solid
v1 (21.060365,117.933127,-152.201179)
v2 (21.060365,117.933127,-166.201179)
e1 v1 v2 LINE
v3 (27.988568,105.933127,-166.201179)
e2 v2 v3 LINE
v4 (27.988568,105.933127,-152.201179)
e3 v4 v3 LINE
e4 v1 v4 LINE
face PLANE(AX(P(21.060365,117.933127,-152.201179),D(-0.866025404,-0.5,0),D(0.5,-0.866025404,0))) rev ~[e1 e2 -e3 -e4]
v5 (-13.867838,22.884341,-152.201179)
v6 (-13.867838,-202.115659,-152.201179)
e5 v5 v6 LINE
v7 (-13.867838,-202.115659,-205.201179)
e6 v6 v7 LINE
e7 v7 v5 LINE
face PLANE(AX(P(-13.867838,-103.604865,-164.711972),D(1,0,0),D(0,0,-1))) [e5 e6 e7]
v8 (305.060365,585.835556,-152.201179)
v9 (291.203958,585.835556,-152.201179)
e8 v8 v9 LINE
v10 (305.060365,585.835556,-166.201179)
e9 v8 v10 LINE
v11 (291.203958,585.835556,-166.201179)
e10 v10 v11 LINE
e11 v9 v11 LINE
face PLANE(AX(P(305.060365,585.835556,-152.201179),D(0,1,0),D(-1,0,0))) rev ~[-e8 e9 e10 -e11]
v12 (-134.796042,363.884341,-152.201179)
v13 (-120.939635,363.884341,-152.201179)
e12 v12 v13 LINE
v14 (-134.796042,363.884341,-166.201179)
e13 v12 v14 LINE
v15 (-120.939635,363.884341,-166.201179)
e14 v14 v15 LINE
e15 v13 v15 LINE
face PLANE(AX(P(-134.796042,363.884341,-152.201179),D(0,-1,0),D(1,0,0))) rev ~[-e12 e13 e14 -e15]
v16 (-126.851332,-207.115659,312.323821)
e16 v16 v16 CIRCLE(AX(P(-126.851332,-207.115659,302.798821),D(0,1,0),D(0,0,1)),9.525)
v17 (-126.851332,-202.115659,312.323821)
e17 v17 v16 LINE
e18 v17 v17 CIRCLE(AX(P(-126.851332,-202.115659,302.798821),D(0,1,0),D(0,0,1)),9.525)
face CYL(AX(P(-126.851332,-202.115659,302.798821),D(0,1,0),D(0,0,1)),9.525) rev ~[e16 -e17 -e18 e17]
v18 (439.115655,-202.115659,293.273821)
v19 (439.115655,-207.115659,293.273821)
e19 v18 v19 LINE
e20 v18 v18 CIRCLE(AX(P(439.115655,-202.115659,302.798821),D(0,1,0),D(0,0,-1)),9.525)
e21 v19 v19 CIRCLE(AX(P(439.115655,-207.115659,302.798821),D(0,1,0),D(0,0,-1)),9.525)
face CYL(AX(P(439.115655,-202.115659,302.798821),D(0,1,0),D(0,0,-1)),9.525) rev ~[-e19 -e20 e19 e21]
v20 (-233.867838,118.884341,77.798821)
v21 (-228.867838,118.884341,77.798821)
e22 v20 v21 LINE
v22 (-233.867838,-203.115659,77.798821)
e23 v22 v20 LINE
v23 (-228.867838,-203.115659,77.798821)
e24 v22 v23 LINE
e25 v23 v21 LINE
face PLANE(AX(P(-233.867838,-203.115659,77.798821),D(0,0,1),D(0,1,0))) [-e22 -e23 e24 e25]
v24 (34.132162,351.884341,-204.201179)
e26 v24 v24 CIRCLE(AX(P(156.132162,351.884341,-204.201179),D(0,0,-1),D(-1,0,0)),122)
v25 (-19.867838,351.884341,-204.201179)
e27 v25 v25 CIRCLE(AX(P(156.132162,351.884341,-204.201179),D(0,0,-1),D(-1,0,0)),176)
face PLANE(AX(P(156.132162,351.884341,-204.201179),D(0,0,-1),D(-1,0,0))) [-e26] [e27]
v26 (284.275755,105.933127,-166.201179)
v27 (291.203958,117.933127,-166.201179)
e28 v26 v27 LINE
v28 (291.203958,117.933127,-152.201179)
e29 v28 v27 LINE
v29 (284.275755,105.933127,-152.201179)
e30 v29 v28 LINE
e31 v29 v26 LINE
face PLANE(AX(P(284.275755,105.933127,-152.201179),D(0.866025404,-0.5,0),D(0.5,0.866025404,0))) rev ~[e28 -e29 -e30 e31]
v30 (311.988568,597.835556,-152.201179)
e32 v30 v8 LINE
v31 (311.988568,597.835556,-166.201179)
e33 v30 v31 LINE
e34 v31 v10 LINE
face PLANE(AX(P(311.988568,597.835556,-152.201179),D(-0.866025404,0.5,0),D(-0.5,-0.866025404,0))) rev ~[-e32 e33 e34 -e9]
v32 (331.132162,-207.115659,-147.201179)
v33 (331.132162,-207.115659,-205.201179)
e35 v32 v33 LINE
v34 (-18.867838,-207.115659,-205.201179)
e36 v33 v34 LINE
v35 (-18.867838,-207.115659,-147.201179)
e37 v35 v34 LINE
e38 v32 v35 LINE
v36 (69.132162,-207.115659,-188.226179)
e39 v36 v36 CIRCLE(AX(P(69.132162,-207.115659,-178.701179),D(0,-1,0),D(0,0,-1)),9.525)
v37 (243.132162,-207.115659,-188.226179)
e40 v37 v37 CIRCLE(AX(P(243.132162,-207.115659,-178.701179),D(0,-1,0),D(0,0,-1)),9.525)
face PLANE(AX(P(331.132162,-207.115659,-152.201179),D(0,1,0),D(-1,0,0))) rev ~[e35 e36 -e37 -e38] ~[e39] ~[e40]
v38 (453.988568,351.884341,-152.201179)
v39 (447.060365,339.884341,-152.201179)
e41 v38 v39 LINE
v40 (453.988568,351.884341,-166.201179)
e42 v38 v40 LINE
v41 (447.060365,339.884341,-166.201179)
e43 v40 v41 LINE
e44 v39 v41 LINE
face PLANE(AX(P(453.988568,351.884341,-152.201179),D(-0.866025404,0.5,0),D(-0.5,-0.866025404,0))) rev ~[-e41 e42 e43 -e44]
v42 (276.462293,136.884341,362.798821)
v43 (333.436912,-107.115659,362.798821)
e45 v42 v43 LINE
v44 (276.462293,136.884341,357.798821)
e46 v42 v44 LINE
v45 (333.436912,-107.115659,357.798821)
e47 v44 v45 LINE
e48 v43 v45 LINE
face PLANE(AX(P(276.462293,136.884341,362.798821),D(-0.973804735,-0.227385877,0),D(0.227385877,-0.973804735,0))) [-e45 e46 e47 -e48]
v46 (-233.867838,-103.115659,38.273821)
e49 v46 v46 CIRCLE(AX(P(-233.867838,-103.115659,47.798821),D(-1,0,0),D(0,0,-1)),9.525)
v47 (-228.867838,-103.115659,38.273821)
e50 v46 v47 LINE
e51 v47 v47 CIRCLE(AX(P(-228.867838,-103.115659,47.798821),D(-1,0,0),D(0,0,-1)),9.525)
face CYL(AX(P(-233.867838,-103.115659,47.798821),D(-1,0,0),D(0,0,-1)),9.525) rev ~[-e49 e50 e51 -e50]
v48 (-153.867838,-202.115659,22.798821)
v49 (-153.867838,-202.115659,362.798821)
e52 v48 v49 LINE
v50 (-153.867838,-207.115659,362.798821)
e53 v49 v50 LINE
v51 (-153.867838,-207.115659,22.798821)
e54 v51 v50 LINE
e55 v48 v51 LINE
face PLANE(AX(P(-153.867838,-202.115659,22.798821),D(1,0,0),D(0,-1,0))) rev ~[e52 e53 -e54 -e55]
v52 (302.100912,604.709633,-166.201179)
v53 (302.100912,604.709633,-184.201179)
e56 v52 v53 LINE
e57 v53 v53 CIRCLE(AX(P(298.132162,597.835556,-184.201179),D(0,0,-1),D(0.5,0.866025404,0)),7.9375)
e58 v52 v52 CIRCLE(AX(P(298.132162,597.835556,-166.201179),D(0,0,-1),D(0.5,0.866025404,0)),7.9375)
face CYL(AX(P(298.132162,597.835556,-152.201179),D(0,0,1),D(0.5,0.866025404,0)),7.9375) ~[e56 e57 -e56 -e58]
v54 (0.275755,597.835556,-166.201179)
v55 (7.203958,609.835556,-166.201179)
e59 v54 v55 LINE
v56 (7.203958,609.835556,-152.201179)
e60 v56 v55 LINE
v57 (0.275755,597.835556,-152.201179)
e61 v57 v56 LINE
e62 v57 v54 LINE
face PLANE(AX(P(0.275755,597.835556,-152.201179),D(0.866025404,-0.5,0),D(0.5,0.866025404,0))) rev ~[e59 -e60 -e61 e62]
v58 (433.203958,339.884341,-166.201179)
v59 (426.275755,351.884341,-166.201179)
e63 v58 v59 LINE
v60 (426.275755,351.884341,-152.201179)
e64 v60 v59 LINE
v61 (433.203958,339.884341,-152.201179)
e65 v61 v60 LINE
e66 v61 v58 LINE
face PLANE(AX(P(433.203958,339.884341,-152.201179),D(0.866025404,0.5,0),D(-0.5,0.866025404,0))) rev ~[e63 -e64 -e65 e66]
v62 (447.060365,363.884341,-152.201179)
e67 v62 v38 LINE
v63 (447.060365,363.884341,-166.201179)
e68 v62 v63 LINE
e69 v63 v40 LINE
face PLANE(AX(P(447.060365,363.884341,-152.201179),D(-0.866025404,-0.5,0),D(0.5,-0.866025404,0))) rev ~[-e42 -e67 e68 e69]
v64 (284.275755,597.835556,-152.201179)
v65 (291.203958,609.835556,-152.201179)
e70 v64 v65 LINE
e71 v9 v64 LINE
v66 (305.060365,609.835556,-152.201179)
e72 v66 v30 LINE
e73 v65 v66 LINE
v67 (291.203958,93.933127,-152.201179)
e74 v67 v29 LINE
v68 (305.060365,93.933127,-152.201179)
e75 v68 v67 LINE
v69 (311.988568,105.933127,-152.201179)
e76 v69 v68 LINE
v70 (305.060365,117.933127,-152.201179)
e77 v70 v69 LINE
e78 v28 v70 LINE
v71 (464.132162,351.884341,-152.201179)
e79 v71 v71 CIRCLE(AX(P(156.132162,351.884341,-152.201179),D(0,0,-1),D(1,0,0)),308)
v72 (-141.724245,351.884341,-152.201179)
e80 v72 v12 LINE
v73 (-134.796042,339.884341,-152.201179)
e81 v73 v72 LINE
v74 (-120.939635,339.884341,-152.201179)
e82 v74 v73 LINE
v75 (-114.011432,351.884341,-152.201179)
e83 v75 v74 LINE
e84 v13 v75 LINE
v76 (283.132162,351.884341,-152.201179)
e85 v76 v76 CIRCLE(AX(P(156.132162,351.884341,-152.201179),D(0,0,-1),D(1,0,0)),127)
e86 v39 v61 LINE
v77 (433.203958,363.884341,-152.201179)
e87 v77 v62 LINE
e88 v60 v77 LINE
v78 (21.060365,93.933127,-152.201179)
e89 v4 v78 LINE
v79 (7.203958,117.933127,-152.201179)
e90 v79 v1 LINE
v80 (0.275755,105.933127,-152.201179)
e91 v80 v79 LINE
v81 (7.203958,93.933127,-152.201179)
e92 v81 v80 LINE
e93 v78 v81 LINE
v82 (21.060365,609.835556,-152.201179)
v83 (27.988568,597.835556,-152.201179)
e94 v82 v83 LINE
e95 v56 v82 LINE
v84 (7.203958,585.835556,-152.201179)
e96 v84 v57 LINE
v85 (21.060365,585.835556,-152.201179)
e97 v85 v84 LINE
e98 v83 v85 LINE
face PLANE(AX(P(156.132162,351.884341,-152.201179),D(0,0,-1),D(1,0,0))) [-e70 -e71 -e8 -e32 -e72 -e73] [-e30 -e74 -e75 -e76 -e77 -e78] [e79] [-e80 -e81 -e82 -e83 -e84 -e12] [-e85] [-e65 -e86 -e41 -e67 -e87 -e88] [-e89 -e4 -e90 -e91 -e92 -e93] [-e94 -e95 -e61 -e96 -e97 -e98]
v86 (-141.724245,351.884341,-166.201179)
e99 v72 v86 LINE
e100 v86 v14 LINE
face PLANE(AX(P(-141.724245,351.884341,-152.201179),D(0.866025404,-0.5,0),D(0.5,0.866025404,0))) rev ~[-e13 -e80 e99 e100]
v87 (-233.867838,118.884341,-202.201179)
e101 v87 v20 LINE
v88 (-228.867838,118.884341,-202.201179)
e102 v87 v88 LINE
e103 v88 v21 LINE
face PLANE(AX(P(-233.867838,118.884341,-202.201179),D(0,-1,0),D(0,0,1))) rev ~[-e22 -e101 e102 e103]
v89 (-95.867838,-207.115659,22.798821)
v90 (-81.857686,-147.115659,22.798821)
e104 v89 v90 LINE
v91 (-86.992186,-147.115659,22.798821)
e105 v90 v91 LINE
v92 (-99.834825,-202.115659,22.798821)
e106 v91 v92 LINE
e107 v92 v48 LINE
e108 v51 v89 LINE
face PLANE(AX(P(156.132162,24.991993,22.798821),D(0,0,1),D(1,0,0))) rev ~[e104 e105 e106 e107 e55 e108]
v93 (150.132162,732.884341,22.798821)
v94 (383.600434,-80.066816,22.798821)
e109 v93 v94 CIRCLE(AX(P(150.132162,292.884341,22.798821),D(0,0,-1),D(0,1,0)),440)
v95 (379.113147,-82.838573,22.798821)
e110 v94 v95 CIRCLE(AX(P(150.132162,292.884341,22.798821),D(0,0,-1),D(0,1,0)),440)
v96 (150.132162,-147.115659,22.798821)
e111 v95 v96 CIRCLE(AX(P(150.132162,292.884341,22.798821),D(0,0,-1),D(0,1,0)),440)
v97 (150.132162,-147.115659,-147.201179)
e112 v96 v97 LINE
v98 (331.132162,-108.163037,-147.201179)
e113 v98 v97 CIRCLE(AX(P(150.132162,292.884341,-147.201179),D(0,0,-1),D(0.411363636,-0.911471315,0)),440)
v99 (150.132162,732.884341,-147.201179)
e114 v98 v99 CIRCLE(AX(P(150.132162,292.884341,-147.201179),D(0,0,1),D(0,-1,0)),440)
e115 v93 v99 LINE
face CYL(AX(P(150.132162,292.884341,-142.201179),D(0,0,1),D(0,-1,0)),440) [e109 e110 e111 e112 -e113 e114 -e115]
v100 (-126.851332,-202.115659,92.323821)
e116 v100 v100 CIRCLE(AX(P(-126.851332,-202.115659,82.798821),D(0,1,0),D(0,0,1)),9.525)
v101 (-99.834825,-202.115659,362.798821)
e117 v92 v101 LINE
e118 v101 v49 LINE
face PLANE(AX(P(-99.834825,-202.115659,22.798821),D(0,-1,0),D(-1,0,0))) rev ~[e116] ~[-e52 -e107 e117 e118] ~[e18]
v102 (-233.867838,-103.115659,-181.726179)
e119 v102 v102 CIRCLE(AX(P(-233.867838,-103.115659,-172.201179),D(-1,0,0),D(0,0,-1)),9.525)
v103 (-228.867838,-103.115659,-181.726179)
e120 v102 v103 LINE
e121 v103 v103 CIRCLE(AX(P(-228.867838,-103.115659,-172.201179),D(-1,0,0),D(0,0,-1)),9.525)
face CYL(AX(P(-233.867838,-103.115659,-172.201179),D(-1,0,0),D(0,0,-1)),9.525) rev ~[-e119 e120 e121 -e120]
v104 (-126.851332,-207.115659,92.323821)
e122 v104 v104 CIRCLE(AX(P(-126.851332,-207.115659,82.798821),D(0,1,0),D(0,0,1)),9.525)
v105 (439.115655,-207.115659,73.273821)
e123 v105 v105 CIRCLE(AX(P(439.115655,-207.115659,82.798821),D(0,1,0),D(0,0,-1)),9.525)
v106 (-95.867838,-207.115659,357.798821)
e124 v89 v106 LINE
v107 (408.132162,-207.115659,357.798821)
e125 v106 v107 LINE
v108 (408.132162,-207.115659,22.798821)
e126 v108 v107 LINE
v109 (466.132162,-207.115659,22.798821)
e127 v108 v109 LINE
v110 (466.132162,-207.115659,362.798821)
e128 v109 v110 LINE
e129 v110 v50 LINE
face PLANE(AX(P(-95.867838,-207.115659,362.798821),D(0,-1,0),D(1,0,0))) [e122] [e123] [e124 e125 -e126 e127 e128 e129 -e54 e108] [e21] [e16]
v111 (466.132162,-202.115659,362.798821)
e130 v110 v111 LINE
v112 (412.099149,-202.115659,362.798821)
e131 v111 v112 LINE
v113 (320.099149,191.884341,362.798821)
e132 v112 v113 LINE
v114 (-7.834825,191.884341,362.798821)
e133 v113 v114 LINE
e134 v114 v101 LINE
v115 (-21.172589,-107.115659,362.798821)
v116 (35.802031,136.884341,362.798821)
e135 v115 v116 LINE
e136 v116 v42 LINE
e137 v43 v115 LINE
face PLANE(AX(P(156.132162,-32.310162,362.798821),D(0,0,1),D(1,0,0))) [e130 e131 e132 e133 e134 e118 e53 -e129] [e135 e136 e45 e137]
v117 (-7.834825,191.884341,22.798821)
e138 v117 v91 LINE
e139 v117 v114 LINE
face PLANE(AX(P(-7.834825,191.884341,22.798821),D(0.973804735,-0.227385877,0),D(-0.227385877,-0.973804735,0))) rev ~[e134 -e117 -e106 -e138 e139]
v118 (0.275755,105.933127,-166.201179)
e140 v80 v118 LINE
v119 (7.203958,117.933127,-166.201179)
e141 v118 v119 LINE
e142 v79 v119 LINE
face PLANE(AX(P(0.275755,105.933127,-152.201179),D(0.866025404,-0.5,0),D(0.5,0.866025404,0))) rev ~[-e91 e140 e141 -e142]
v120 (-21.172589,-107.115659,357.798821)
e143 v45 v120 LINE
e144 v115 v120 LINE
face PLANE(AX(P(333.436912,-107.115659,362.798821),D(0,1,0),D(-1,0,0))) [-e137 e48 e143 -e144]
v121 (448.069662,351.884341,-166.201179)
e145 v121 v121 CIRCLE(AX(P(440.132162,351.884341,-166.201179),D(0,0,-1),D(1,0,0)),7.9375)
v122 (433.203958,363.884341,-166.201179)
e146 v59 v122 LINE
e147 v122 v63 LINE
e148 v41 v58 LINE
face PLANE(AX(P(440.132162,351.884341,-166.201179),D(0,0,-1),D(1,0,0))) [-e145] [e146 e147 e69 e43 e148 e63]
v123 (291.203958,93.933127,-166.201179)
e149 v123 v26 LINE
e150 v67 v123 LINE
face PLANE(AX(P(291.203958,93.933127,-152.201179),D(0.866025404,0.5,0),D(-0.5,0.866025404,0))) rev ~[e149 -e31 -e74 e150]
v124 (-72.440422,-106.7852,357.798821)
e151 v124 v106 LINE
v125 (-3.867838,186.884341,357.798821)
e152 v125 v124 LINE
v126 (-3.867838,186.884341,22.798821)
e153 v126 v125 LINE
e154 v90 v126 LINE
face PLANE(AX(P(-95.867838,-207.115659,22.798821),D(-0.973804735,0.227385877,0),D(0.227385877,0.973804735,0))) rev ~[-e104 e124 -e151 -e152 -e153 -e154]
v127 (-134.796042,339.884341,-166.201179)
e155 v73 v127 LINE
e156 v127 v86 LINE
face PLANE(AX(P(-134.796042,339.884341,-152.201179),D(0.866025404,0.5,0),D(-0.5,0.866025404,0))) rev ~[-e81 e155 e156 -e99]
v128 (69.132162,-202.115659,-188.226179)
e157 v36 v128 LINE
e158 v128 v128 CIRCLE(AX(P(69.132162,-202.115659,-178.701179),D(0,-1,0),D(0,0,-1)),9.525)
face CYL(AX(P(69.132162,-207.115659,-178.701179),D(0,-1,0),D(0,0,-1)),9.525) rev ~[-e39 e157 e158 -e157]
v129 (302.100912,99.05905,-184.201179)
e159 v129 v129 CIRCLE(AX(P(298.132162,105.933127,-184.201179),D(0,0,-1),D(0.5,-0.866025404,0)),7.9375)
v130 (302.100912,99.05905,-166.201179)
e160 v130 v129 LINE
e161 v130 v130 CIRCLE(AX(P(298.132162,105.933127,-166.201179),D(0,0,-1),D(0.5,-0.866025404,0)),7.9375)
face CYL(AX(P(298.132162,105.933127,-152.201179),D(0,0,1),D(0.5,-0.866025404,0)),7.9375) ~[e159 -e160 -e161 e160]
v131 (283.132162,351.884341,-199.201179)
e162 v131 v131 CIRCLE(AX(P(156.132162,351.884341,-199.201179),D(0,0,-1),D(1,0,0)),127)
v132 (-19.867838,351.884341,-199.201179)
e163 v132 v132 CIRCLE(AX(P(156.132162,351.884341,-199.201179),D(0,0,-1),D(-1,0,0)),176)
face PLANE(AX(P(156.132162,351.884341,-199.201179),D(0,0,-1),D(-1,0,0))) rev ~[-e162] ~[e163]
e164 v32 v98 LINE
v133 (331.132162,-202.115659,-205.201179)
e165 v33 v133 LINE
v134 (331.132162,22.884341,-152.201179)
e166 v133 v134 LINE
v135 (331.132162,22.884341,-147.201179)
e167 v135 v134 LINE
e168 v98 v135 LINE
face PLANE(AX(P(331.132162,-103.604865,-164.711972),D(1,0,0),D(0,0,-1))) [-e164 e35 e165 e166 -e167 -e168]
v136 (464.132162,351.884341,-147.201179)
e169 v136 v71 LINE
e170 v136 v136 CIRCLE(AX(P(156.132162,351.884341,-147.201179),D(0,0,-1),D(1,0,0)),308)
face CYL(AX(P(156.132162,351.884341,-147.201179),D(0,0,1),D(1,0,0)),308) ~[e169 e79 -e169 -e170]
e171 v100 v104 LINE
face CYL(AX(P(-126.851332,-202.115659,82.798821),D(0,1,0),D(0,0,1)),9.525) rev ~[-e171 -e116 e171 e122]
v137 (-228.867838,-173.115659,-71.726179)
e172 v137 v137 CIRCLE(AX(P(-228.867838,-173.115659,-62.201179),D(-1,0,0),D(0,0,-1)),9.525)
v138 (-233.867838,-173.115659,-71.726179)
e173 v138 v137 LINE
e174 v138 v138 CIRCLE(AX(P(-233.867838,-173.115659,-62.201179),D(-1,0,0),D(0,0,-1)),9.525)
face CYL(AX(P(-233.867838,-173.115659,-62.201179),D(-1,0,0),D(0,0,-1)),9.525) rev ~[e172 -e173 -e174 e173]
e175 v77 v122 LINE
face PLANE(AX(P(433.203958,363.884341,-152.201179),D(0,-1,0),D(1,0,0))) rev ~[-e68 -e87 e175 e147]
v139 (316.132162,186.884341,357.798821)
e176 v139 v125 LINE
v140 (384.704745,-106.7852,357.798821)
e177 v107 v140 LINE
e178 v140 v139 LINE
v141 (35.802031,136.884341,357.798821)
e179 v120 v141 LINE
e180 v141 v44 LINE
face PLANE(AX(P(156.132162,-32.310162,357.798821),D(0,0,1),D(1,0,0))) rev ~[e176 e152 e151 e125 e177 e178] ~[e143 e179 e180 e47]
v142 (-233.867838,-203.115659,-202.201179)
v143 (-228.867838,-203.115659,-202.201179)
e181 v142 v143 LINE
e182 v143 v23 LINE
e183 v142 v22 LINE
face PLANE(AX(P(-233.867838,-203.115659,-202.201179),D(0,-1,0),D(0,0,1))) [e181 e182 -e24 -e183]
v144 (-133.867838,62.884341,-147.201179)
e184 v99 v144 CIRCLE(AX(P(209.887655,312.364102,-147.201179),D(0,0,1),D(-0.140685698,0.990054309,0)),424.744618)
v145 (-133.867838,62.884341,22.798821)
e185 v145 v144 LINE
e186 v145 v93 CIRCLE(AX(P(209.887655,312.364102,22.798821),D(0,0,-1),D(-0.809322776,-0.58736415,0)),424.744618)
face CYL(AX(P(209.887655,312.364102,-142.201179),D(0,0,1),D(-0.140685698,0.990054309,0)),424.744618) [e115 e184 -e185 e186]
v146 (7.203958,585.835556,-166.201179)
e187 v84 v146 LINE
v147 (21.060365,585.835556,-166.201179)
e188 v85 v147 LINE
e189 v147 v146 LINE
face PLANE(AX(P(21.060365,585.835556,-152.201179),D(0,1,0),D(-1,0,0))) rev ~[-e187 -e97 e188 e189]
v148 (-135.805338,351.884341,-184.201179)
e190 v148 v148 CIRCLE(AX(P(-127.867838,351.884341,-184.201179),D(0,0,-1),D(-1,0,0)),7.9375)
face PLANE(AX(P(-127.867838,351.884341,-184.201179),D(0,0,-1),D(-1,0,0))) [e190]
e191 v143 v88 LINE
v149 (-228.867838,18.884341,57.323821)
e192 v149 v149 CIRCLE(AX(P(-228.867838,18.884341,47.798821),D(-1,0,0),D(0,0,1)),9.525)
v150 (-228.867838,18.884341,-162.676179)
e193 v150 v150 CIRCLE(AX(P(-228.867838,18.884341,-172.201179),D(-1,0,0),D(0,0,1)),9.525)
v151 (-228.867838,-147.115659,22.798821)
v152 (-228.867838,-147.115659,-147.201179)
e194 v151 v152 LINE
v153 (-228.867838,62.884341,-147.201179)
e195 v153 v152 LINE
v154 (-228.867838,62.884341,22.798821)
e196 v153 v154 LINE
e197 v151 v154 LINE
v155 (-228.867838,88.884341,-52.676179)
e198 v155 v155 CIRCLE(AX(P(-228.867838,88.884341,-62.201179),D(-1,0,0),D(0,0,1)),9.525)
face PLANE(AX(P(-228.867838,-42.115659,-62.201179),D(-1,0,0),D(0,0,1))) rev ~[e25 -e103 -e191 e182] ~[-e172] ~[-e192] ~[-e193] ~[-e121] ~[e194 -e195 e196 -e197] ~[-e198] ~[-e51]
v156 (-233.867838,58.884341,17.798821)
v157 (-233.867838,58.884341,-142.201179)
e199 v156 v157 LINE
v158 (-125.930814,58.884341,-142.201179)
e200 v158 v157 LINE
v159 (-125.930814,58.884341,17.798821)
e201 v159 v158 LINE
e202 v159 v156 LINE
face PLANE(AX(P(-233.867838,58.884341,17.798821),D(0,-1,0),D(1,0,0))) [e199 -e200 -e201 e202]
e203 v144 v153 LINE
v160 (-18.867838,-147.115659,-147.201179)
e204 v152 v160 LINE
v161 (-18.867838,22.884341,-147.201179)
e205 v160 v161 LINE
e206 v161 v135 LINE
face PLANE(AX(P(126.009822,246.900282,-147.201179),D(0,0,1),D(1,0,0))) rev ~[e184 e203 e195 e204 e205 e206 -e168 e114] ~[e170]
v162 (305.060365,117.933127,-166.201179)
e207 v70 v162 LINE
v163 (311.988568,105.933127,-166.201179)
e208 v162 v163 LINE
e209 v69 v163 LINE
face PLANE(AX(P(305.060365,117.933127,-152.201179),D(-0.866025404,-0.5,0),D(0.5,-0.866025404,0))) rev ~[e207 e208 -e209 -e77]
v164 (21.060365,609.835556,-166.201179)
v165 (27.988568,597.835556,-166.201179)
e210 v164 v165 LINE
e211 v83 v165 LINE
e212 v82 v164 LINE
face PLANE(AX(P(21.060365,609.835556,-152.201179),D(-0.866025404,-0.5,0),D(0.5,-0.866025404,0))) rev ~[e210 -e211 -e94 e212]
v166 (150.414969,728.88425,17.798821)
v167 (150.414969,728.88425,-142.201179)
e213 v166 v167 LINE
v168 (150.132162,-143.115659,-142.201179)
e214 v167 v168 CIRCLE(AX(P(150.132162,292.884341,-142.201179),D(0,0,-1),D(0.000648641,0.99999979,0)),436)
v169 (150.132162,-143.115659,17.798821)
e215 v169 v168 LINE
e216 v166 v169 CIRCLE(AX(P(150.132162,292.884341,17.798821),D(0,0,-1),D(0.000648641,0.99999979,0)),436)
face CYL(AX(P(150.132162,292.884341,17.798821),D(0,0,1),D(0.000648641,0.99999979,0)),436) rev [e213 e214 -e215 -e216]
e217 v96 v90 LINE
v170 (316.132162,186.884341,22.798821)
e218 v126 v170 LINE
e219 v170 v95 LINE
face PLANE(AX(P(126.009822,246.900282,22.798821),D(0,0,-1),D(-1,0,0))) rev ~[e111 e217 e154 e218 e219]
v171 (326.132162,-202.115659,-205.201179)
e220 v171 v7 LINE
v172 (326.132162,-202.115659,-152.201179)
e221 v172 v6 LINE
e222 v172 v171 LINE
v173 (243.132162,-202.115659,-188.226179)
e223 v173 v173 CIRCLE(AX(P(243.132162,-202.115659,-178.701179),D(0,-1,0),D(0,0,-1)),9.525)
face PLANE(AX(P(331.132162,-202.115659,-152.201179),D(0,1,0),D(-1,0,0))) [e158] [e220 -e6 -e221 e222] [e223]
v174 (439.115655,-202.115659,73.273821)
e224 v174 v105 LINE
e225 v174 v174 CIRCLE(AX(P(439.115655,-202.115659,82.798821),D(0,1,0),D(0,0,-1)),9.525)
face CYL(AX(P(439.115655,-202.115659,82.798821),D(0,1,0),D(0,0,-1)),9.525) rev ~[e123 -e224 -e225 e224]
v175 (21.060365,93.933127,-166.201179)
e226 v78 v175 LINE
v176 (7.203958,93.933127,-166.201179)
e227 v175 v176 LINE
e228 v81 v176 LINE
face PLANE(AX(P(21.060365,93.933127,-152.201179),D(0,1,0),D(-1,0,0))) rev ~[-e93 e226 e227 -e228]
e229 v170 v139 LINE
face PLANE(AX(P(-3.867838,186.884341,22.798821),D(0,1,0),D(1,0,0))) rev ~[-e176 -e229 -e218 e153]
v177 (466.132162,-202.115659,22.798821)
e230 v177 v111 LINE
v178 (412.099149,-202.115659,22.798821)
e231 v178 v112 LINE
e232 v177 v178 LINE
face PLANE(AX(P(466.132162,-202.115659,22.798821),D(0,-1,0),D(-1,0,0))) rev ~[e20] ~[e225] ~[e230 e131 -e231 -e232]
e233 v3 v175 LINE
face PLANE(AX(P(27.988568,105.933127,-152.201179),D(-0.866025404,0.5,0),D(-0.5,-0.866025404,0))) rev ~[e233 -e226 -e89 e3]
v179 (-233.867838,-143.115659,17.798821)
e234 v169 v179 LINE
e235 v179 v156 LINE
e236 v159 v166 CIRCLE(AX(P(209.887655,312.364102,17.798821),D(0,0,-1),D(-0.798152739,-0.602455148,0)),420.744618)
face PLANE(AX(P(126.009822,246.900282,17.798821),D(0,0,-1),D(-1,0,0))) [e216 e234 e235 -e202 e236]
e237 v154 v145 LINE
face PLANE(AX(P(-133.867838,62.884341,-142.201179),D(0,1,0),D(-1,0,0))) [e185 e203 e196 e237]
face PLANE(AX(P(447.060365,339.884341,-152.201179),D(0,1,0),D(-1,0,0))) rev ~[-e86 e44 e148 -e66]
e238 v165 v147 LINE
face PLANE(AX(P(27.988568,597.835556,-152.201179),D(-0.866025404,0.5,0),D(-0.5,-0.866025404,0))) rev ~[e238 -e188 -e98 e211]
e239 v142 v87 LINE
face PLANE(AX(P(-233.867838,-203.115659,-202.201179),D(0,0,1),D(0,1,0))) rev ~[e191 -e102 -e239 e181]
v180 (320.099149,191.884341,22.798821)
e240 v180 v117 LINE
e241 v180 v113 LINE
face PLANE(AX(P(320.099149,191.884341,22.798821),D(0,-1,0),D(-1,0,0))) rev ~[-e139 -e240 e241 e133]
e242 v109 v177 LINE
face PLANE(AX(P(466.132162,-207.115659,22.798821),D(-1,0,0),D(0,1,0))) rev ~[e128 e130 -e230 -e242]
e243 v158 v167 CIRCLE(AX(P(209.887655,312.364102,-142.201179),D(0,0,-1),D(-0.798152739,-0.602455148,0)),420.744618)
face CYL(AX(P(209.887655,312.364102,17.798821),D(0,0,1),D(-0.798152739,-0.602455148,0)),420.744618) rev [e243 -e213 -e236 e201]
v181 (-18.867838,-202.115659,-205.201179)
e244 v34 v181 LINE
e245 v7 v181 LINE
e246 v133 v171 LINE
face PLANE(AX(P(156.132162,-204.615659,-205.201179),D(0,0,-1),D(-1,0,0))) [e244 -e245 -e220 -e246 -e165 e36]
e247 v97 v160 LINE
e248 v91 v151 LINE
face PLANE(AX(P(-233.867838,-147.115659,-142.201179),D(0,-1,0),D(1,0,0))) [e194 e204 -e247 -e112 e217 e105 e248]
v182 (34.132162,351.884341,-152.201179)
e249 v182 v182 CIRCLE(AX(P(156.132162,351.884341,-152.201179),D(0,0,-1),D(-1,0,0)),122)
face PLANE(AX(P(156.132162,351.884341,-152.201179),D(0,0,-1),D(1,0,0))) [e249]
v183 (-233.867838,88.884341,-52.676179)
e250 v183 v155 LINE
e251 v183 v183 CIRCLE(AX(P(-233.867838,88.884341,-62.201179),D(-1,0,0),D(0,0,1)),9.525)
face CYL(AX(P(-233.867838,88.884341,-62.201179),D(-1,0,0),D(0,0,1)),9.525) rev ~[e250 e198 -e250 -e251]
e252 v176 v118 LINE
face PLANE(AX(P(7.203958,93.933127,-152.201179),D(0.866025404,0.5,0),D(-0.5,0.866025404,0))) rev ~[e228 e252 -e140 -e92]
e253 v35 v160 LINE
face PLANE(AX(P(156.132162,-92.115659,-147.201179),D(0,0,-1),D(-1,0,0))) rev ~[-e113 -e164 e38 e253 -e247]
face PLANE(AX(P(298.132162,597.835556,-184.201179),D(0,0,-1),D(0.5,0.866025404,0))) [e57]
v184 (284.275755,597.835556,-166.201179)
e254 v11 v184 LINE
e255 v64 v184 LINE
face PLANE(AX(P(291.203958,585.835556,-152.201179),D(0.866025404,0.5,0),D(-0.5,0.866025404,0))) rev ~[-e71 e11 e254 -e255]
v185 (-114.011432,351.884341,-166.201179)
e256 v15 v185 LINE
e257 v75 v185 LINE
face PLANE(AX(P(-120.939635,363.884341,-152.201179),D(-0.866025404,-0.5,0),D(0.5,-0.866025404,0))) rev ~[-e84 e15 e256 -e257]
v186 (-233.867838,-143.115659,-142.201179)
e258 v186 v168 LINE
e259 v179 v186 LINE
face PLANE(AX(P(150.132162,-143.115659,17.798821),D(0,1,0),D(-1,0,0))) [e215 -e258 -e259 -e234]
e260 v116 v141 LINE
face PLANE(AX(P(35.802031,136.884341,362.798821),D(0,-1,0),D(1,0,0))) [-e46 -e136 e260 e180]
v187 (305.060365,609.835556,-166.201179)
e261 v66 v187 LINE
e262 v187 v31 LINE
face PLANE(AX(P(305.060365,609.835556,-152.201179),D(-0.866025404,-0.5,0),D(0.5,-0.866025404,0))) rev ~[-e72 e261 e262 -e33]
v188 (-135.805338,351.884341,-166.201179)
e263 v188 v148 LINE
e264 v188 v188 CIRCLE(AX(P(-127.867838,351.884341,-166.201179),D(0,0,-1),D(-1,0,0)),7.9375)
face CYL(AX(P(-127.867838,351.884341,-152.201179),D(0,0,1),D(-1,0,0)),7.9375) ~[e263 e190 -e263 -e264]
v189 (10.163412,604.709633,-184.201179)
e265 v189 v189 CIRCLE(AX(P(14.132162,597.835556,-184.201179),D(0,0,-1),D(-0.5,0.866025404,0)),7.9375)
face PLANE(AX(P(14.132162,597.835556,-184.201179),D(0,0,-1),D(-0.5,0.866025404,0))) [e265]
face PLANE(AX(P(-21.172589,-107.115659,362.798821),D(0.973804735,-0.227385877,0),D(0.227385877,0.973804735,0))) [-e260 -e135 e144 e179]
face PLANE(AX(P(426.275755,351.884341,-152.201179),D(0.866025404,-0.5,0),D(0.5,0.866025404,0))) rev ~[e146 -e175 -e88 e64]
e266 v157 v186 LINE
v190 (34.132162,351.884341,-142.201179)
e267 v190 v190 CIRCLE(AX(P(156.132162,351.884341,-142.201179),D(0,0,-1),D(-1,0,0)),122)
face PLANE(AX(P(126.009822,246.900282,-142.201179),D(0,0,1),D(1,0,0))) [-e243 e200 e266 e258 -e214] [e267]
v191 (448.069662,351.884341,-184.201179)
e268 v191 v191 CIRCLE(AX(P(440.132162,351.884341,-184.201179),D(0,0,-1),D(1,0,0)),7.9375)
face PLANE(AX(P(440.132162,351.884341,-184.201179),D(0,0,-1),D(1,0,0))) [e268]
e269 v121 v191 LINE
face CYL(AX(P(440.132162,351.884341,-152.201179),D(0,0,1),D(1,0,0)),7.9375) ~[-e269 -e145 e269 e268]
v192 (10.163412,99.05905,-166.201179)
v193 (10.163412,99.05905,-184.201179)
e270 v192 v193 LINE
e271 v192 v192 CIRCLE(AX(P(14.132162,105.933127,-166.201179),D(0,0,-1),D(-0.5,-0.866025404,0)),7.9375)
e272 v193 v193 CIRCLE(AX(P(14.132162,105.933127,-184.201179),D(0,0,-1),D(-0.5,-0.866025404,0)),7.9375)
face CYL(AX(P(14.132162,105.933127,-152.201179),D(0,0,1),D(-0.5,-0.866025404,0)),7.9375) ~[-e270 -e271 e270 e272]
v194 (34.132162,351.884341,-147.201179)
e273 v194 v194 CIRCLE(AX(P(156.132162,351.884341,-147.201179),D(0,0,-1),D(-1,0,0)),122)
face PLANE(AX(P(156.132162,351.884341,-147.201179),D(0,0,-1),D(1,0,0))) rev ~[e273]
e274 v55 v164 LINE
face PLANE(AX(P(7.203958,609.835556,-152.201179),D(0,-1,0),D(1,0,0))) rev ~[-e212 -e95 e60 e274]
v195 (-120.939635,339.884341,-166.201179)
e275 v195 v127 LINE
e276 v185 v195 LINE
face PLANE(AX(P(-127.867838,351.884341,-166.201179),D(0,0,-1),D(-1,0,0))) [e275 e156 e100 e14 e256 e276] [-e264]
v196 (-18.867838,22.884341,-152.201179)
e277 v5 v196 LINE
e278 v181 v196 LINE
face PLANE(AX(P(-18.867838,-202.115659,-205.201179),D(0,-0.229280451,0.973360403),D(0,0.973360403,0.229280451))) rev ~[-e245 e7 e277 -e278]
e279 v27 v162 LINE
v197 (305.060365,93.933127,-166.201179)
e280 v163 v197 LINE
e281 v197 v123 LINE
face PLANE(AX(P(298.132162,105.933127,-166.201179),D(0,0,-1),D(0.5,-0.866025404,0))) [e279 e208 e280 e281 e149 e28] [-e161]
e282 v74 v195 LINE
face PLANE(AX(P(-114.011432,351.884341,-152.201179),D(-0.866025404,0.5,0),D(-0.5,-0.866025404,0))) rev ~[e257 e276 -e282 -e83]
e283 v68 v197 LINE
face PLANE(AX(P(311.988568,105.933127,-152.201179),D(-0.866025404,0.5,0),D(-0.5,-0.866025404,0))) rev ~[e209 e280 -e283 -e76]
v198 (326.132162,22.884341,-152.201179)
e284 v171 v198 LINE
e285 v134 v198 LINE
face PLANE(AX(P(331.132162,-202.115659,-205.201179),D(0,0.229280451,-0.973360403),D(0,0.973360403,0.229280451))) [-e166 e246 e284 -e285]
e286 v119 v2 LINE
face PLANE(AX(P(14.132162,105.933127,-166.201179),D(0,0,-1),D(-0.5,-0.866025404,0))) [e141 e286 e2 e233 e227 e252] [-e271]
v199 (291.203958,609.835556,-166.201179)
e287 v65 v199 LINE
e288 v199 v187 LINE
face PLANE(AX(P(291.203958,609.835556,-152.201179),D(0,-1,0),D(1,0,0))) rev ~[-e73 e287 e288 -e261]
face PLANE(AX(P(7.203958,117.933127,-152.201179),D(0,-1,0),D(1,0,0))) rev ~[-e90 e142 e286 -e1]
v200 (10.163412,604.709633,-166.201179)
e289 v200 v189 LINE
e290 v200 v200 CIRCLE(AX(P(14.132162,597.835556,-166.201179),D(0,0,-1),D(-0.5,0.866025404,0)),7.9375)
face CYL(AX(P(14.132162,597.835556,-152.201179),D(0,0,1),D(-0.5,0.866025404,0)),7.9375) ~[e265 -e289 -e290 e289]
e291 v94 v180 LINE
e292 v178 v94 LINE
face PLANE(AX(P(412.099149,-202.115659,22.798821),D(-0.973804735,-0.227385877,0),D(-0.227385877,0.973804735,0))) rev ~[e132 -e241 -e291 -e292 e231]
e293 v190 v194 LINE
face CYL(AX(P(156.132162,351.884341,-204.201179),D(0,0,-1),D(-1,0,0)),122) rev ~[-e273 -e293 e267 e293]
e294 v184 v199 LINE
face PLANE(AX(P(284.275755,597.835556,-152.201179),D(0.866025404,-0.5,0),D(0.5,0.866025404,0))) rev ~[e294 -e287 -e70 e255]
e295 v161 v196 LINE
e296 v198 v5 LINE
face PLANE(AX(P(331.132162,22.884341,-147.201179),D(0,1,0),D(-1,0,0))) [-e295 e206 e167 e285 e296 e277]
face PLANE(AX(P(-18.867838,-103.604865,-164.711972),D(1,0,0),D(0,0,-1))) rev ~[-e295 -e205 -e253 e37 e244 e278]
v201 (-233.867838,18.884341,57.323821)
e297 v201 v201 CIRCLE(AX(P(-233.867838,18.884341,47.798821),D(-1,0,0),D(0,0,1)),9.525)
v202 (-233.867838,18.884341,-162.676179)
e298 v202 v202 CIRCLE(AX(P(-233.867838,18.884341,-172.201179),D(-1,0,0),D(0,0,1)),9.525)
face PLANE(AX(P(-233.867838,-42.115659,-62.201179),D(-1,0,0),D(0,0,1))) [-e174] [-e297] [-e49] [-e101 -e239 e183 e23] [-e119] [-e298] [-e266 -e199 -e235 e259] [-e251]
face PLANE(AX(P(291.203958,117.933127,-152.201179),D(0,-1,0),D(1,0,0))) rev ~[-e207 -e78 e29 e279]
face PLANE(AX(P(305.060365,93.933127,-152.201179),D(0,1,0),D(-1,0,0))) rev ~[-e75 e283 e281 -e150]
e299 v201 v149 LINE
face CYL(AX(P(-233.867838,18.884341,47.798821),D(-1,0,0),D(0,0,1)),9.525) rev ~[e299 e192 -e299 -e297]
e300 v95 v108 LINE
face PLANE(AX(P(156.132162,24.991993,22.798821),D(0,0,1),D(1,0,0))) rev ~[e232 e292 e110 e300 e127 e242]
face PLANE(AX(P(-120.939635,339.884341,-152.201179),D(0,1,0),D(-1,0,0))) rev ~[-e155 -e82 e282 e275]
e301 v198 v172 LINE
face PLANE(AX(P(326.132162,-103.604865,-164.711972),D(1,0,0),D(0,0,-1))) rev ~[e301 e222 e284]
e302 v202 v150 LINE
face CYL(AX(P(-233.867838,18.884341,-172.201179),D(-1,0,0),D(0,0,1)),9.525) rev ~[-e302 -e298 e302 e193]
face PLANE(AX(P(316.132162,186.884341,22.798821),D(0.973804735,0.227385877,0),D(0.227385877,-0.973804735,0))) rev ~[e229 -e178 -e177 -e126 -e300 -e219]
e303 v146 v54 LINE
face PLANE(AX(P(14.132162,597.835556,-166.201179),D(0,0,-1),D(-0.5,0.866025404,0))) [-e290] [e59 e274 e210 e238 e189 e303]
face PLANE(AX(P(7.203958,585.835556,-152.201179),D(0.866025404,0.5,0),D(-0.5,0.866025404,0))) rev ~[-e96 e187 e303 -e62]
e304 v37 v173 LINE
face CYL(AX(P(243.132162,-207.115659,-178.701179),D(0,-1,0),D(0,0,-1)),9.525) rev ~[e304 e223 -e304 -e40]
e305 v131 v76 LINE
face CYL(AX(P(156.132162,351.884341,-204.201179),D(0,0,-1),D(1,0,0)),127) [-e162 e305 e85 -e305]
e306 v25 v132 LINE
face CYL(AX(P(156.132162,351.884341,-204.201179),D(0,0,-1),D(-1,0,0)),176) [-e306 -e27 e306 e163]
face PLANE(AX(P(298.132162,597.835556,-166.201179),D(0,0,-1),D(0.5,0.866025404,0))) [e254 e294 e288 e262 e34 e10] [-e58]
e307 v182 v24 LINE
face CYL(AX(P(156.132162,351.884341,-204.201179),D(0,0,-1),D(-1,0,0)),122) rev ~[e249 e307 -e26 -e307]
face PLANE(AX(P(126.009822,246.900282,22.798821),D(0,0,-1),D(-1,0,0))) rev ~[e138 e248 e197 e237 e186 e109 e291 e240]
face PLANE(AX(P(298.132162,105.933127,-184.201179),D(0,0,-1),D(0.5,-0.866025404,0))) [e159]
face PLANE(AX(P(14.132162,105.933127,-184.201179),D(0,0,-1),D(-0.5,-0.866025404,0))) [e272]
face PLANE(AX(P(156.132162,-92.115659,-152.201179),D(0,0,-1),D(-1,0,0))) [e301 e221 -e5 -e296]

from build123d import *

# Parameters (mm, degrees)
SALIENTE_EXTRUIR1_DEPTH  = 170
SALIENTE_EXTRUIR2_DEPTH  = 2.5
CROQUIS4_R               = 4.7625
CORTAR_EXTRUIR1_DEPTH    = 2.5
SALIENTE_EXTRUIR3_DEPTH  = 2.5
SALIENTE_EXTRUIR4_DEPTH  = 80
SALIENTE_EXTRUIR5_DEPTH  = 2.5
CROQUIS8_W               = 140
CROQUIS8_H               = 161
CROQUIS8_W_2             = 80
CROQUIS8_H_2             = 101
SALIENTE_EXTRUIR6_DEPTH  = 2.5
CROQUIS9_R               = 4.7625
CORTAR_EXTRUIR2_DEPTH    = 2.5
CROQUIS10_R              = 61
CORTAR_EXTRUIR3_DEPTH    = 2.5
SALIENTE_EXTRUIR7_START  = 28.5
CROQUIS11_R              = 63.5
CROQUIS11_R_2            = 61
SALIENTE_EXTRUIR7_DEPTH  = 28.5
CROQUIS12_R              = 88
CROQUIS12_R_2            = 61
SALIENTE_EXTRUIR8_DEPTH  = 2.5
CROQUIS13_W              = 175
CROQUIS13_H              = 115
SALIENTE_EXTRUIR9_DEPTH  = 2.5
CROQUIS14_W              = 175
CROQUIS14_H              = 2.5
SALIENTE_EXTRUIR10_DEPTH = 26.5
SALIENTE_EXTRUIR11_DEPTH = 2.5
SALIENTE_EXTRUIR12_DEPTH = 2.5
CROQUIS17_R              = 4.7625
CORTAR_EXTRUIR4_DEPTH    = 2.5
CROQUIS18_R              = 154
SALIENTE_EXTRUIR13_DEPTH = 2.5
CROQUIS19_R              = 3.96875
SALIENTE_EXTRUIR14_DEPTH = 16
MATRIZC1_COUNT           = 6
CROQUIS20_R              = 3.96875
SALIENTE_EXTRUIR15_DEPTH = 7
MATRIZC3_COUNT           = 6
ESCALA1_SCALE            = 2


with BuildPart() as part:
    # Croquis1 → Saliente-Extruir1 (new body)
    with BuildSketch(Plane.XY):
        Polygon((0, 0), (29, 0), (75, 197), (235, 197), (281, 0), (310, 0), (310, 2.5), (282.983493442, 2.5), (236.983493442, 199.5), (73.016506558, 199.5), (27.016506558, 2.5), (0, 2.5), align=None)
    extrude(amount=SALIENTE_EXTRUIR1_DEPTH)

    # Croquis2 → Saliente-Extruir2 (add)
    with BuildSketch(Plane.XY.offset(170)):
        Polygon((29, 0), (281, 0), (269.286291687, 50.165229078), (235, 197), (75, 197), (40.713708313, 50.165229078), align=None)
        Polygon((243.652375223, 50), (66.347624777, 50), (94.834934422, 172), (215.165065578, 172), align=None, mode=Mode.SUBTRACT)
    extrude(amount=-SALIENTE_EXTRUIR2_DEPTH)

    # Croquis4 → Cortar-Extruir1 (cut)
    with BuildSketch(Plane(origin=(0, 2.5, 0), x_dir=(1, 0, 0), z_dir=(0, 1, 0))):
        with Locations(Location((13.508253279, -30, 0), (0, 0, 270))):
            Circle(CROQUIS4_R)
        with Locations(Location((13.508253279, -140, 0), (0, 0, 270))):
            Circle(CROQUIS4_R)
        with Locations(Location((296.491746721, -140, 0), (0, 0, 90))):
            Circle(CROQUIS4_R)
        with Locations(Location((296.491746721, -30, 0), (0, 0, 90))):
            Circle(CROQUIS4_R)
    extrude(amount=-CORTAR_EXTRUIR1_DEPTH, mode=Mode.SUBTRACT)

    # Croquis5 → Saliente-Extruir3 (add)
    with BuildSketch(Plane(origin=(0, 0, 0), x_dir=(-1, 0, 0), z_dir=(0, 0, -1))):
        with BuildLine():
            Line((0, 30), (40, 30))
            Line((40, 30), (40, 135))
            Line((40, 135), (-10, 135))
            ThreePointArc((-10, 135), (13.653759217, 342.621891967), (-152, 470))
            ThreePointArc((-152, 470), (-372, 250), (-152, 30))
            Line((-152, 30), (0, 30))
        make_face()
    extrude(amount=SALIENTE_EXTRUIR3_DEPTH)

    # Croquis6 → Saliente-Extruir4 (add)
    with BuildSketch(Plane(origin=(0, 0, -2.5), x_dir=(-1, 0, 0), z_dir=(0, 0, -1))):
        with BuildLine():
            Line((-10, 135), (40, 135))
            Line((40, 135), (40, 133))
            Line((40, 133), (38, 133))
            Line((38, 133), (-13.968512136, 133))
            ThreePointArc((-13.968512136, 133), (12.60152192, 339.954109112), (-152.141403753, 467.99995414))
            ThreePointArc((-152.141403753, 467.99995414), (-369.999988535, 249.92929812), (-152, 32))
            Line((-152, 32), (38, 32))
            Line((38, 32), (40, 32))
            Line((40, 32), (40, 30))
            Line((40, 30), (-152, 30))
            ThreePointArc((-152, 30), (-372, 250), (-152, 470))
            ThreePointArc((-152, 470), (13.653759217, 342.621891967), (-10, 135))
        make_face()
    extrude(amount=SALIENTE_EXTRUIR4_DEPTH)

    # Croquis7 → Saliente-Extruir5 (add)
    with BuildSketch(Plane(origin=(0, 0, -82.5), x_dir=(-1, 0, 0), z_dir=(0, 0, -1))):
        with BuildLine():
            Line((-10, 135), (40, 135))
            Line((40, 135), (40, 30))
            Line((40, 30), (-152, 30))
            ThreePointArc((-152, 30), (-372, 250), (-152, 470))
            ThreePointArc((-152, 470), (13.653759217, 342.621891967), (-10, 135))
        make_face()
    extrude(amount=SALIENTE_EXTRUIR5_DEPTH)

    # Croquis8 → Saliente-Extruir6 (add)
    with BuildSketch(Plane.ZY.offset(40)):
        with Locations((-42.5, 82.5)):
            Rectangle(CROQUIS8_W, CROQUIS8_H)
        with Locations((-42.5, 82.5)):
            Rectangle(CROQUIS8_W_2, CROQUIS8_H_2, mode=Mode.SUBTRACT)
    extrude(amount=-SALIENTE_EXTRUIR6_DEPTH)

    # Croquis9 → Cortar-Extruir2 (cut)
    with BuildSketch(Plane.ZY.offset(40)):
        with Locations((-42.5, 148)):
            Circle(CROQUIS9_R)
        with Locations((-97.5, 113)):
            Circle(CROQUIS9_R)
        with Locations((12.5, 113)):
            Circle(CROQUIS9_R)
        with Locations(Location((12.5, 52, 0), (0, 0, 180))):
            Circle(CROQUIS9_R)
        with Locations(Location((-97.5, 52, 0), (0, 0, 180))):
            Circle(CROQUIS9_R)
        with Locations(Location((-42.5, 17, 0), (0, 0, 180))):
            Circle(CROQUIS9_R)
    extrude(amount=-CORTAR_EXTRUIR2_DEPTH, mode=Mode.SUBTRACT)

    # Croquis10 → Cortar-Extruir3 (cut)
    with BuildSketch(Plane(origin=(0, 0, -85), x_dir=(-1, 0, 0), z_dir=(0, 0, -1))):
        with Locations((-155, 279.5)):
            Circle(CROQUIS10_R)
    extrude(amount=-CORTAR_EXTRUIR3_DEPTH, mode=Mode.SUBTRACT)

    # Croquis11 → Saliente-Extruir7 (add)
    with BuildSketch(Plane(origin=(0, 0, -85), x_dir=(-1, 0, 0), z_dir=(0, 0, -1)).offset(SALIENTE_EXTRUIR7_START)):
        with Locations(Location((-155, 279.5, 0), (0, 0, 180))):
            Circle(CROQUIS11_R)
        with Locations((-155, 279.5)):
            Circle(CROQUIS11_R_2, mode=Mode.SUBTRACT)
    extrude(amount=-SALIENTE_EXTRUIR7_DEPTH)

    # Croquis12 → Saliente-Extruir8 (add)
    with BuildSketch(Plane(origin=(0, 0, -113.5), x_dir=(-1, 0, 0), z_dir=(0, 0, -1))):
        with Locations((-155, 279.5)):
            Circle(CROQUIS12_R)
        with Locations((-155, 279.5)):
            Circle(CROQUIS12_R_2, mode=Mode.SUBTRACT)
    extrude(amount=-SALIENTE_EXTRUIR8_DEPTH)

    # Croquis13 → Saliente-Extruir9 (add)
    with BuildSketch(Plane(origin=(0, 0, -85), x_dir=(-1, 0, 0), z_dir=(0, 0, -1))):
        with Locations((-155, 57.5)):
            Rectangle(CROQUIS13_W, CROQUIS13_H)
    extrude(amount=SALIENTE_EXTRUIR9_DEPTH)

    # Croquis14 → Saliente-Extruir10 (add)
    with BuildSketch(Plane(origin=(0, 0, -87.5), x_dir=(-1, 0, 0), z_dir=(0, 0, -1))):
        with Locations((-155, 1.25)):
            Rectangle(CROQUIS14_W, CROQUIS14_H)
    extrude(amount=SALIENTE_EXTRUIR10_DEPTH)

    # Croquis15 → Saliente-Extruir11 (add)
    with BuildSketch(Plane.ZY.offset(-67.5)):
        Polygon((-114, 2.5), (-87.5, 115), (-85, 115), (-85, 0), (-114, 0), align=None)
    extrude(amount=-SALIENTE_EXTRUIR11_DEPTH)

    # Croquis16 → Saliente-Extruir12 (add)
    with BuildSketch(Plane(origin=(242.5, 0, 0), x_dir=(0, 0, -1), z_dir=(1, 0, 0))):
        Polygon((114, 2.5), (87.5, 115), (85, 115), (85, 0), (114, 0), align=None)
    extrude(amount=-SALIENTE_EXTRUIR12_DEPTH)

    # Croquis17 → Cortar-Extruir4 (cut)
    with BuildSketch(Plane.XZ):
        with Locations(Location((198.5, -100.75, 0), (0, 0, 270))):
            Circle(CROQUIS17_R)
        with Locations(Location((111.5, -100.75, 0), (0, 0, 270))):
            Circle(CROQUIS17_R)
    extrude(amount=-CORTAR_EXTRUIR4_DEPTH, mode=Mode.SUBTRACT)

    # Croquis18 → Saliente-Extruir13 (add)
    with BuildSketch(Plane(origin=(0, 0, -85), x_dir=(-1, 0, 0), z_dir=(0, 0, -1))):
        with Locations(Location((-155, 279.5, 0), (0, 0, 180))):
            Circle(CROQUIS18_R)
    extrude(amount=SALIENTE_EXTRUIR13_DEPTH)

    # Croquis19 → Saliente-Extruir14 (add)
    with BuildSketch(Plane(origin=(0, 0, -87.5), x_dir=(-1, 0, 0), z_dir=(0, 0, -1))):
        with Locations((-13, 279.5)):
            Circle(CROQUIS19_R)
    saliente_extruir14 = extrude(amount=SALIENTE_EXTRUIR14_DEPTH)

    # MatrizC1: Saliente-Extruir14 ×6 about axis
    matrizc1_axis = Axis((155, 279.5, 0), (0, 0, 1))
    for i in range(1, MATRIZC1_COUNT):
        add(saliente_extruir14.rotate(matrizc1_axis, i * 360 / MATRIZC1_COUNT))

    # Croquis20 → Saliente-Extruir15 (add)
    with BuildSketch(Plane(origin=(0, 0, -87.5), x_dir=(-1, 0, 0), z_dir=(0, 0, -1))):
        Polygon((-6.07179677, 279.5), (-9.535898385, 285.5), (-16.464101615, 285.5), (-19.92820323, 279.5), (-16.464101615, 273.5), (-9.535898385, 273.5), align=None)
        with Locations((-13, 279.5)):
            Circle(CROQUIS20_R, mode=Mode.SUBTRACT)
    saliente_extruir15 = extrude(amount=SALIENTE_EXTRUIR15_DEPTH)

    # MatrizC3: Saliente-Extruir15 ×6 about axis
    matrizc3_axis = Axis((155, 279.5, 0), (0, 0, 1))
    for i in range(1, MATRIZC3_COUNT):
        add(saliente_extruir15.rotate(matrizc3_axis, i * 360 / MATRIZC3_COUNT))


with BuildPart() as part_1:
    # Escala1: scaled about (153.867838304, 207.115658643, -22.79882081)
    add(part.part.scale(ESCALA1_SCALE).moved(Location((-153.867838304, -207.115658643, 22.79882081))))


solid = part_1.part
